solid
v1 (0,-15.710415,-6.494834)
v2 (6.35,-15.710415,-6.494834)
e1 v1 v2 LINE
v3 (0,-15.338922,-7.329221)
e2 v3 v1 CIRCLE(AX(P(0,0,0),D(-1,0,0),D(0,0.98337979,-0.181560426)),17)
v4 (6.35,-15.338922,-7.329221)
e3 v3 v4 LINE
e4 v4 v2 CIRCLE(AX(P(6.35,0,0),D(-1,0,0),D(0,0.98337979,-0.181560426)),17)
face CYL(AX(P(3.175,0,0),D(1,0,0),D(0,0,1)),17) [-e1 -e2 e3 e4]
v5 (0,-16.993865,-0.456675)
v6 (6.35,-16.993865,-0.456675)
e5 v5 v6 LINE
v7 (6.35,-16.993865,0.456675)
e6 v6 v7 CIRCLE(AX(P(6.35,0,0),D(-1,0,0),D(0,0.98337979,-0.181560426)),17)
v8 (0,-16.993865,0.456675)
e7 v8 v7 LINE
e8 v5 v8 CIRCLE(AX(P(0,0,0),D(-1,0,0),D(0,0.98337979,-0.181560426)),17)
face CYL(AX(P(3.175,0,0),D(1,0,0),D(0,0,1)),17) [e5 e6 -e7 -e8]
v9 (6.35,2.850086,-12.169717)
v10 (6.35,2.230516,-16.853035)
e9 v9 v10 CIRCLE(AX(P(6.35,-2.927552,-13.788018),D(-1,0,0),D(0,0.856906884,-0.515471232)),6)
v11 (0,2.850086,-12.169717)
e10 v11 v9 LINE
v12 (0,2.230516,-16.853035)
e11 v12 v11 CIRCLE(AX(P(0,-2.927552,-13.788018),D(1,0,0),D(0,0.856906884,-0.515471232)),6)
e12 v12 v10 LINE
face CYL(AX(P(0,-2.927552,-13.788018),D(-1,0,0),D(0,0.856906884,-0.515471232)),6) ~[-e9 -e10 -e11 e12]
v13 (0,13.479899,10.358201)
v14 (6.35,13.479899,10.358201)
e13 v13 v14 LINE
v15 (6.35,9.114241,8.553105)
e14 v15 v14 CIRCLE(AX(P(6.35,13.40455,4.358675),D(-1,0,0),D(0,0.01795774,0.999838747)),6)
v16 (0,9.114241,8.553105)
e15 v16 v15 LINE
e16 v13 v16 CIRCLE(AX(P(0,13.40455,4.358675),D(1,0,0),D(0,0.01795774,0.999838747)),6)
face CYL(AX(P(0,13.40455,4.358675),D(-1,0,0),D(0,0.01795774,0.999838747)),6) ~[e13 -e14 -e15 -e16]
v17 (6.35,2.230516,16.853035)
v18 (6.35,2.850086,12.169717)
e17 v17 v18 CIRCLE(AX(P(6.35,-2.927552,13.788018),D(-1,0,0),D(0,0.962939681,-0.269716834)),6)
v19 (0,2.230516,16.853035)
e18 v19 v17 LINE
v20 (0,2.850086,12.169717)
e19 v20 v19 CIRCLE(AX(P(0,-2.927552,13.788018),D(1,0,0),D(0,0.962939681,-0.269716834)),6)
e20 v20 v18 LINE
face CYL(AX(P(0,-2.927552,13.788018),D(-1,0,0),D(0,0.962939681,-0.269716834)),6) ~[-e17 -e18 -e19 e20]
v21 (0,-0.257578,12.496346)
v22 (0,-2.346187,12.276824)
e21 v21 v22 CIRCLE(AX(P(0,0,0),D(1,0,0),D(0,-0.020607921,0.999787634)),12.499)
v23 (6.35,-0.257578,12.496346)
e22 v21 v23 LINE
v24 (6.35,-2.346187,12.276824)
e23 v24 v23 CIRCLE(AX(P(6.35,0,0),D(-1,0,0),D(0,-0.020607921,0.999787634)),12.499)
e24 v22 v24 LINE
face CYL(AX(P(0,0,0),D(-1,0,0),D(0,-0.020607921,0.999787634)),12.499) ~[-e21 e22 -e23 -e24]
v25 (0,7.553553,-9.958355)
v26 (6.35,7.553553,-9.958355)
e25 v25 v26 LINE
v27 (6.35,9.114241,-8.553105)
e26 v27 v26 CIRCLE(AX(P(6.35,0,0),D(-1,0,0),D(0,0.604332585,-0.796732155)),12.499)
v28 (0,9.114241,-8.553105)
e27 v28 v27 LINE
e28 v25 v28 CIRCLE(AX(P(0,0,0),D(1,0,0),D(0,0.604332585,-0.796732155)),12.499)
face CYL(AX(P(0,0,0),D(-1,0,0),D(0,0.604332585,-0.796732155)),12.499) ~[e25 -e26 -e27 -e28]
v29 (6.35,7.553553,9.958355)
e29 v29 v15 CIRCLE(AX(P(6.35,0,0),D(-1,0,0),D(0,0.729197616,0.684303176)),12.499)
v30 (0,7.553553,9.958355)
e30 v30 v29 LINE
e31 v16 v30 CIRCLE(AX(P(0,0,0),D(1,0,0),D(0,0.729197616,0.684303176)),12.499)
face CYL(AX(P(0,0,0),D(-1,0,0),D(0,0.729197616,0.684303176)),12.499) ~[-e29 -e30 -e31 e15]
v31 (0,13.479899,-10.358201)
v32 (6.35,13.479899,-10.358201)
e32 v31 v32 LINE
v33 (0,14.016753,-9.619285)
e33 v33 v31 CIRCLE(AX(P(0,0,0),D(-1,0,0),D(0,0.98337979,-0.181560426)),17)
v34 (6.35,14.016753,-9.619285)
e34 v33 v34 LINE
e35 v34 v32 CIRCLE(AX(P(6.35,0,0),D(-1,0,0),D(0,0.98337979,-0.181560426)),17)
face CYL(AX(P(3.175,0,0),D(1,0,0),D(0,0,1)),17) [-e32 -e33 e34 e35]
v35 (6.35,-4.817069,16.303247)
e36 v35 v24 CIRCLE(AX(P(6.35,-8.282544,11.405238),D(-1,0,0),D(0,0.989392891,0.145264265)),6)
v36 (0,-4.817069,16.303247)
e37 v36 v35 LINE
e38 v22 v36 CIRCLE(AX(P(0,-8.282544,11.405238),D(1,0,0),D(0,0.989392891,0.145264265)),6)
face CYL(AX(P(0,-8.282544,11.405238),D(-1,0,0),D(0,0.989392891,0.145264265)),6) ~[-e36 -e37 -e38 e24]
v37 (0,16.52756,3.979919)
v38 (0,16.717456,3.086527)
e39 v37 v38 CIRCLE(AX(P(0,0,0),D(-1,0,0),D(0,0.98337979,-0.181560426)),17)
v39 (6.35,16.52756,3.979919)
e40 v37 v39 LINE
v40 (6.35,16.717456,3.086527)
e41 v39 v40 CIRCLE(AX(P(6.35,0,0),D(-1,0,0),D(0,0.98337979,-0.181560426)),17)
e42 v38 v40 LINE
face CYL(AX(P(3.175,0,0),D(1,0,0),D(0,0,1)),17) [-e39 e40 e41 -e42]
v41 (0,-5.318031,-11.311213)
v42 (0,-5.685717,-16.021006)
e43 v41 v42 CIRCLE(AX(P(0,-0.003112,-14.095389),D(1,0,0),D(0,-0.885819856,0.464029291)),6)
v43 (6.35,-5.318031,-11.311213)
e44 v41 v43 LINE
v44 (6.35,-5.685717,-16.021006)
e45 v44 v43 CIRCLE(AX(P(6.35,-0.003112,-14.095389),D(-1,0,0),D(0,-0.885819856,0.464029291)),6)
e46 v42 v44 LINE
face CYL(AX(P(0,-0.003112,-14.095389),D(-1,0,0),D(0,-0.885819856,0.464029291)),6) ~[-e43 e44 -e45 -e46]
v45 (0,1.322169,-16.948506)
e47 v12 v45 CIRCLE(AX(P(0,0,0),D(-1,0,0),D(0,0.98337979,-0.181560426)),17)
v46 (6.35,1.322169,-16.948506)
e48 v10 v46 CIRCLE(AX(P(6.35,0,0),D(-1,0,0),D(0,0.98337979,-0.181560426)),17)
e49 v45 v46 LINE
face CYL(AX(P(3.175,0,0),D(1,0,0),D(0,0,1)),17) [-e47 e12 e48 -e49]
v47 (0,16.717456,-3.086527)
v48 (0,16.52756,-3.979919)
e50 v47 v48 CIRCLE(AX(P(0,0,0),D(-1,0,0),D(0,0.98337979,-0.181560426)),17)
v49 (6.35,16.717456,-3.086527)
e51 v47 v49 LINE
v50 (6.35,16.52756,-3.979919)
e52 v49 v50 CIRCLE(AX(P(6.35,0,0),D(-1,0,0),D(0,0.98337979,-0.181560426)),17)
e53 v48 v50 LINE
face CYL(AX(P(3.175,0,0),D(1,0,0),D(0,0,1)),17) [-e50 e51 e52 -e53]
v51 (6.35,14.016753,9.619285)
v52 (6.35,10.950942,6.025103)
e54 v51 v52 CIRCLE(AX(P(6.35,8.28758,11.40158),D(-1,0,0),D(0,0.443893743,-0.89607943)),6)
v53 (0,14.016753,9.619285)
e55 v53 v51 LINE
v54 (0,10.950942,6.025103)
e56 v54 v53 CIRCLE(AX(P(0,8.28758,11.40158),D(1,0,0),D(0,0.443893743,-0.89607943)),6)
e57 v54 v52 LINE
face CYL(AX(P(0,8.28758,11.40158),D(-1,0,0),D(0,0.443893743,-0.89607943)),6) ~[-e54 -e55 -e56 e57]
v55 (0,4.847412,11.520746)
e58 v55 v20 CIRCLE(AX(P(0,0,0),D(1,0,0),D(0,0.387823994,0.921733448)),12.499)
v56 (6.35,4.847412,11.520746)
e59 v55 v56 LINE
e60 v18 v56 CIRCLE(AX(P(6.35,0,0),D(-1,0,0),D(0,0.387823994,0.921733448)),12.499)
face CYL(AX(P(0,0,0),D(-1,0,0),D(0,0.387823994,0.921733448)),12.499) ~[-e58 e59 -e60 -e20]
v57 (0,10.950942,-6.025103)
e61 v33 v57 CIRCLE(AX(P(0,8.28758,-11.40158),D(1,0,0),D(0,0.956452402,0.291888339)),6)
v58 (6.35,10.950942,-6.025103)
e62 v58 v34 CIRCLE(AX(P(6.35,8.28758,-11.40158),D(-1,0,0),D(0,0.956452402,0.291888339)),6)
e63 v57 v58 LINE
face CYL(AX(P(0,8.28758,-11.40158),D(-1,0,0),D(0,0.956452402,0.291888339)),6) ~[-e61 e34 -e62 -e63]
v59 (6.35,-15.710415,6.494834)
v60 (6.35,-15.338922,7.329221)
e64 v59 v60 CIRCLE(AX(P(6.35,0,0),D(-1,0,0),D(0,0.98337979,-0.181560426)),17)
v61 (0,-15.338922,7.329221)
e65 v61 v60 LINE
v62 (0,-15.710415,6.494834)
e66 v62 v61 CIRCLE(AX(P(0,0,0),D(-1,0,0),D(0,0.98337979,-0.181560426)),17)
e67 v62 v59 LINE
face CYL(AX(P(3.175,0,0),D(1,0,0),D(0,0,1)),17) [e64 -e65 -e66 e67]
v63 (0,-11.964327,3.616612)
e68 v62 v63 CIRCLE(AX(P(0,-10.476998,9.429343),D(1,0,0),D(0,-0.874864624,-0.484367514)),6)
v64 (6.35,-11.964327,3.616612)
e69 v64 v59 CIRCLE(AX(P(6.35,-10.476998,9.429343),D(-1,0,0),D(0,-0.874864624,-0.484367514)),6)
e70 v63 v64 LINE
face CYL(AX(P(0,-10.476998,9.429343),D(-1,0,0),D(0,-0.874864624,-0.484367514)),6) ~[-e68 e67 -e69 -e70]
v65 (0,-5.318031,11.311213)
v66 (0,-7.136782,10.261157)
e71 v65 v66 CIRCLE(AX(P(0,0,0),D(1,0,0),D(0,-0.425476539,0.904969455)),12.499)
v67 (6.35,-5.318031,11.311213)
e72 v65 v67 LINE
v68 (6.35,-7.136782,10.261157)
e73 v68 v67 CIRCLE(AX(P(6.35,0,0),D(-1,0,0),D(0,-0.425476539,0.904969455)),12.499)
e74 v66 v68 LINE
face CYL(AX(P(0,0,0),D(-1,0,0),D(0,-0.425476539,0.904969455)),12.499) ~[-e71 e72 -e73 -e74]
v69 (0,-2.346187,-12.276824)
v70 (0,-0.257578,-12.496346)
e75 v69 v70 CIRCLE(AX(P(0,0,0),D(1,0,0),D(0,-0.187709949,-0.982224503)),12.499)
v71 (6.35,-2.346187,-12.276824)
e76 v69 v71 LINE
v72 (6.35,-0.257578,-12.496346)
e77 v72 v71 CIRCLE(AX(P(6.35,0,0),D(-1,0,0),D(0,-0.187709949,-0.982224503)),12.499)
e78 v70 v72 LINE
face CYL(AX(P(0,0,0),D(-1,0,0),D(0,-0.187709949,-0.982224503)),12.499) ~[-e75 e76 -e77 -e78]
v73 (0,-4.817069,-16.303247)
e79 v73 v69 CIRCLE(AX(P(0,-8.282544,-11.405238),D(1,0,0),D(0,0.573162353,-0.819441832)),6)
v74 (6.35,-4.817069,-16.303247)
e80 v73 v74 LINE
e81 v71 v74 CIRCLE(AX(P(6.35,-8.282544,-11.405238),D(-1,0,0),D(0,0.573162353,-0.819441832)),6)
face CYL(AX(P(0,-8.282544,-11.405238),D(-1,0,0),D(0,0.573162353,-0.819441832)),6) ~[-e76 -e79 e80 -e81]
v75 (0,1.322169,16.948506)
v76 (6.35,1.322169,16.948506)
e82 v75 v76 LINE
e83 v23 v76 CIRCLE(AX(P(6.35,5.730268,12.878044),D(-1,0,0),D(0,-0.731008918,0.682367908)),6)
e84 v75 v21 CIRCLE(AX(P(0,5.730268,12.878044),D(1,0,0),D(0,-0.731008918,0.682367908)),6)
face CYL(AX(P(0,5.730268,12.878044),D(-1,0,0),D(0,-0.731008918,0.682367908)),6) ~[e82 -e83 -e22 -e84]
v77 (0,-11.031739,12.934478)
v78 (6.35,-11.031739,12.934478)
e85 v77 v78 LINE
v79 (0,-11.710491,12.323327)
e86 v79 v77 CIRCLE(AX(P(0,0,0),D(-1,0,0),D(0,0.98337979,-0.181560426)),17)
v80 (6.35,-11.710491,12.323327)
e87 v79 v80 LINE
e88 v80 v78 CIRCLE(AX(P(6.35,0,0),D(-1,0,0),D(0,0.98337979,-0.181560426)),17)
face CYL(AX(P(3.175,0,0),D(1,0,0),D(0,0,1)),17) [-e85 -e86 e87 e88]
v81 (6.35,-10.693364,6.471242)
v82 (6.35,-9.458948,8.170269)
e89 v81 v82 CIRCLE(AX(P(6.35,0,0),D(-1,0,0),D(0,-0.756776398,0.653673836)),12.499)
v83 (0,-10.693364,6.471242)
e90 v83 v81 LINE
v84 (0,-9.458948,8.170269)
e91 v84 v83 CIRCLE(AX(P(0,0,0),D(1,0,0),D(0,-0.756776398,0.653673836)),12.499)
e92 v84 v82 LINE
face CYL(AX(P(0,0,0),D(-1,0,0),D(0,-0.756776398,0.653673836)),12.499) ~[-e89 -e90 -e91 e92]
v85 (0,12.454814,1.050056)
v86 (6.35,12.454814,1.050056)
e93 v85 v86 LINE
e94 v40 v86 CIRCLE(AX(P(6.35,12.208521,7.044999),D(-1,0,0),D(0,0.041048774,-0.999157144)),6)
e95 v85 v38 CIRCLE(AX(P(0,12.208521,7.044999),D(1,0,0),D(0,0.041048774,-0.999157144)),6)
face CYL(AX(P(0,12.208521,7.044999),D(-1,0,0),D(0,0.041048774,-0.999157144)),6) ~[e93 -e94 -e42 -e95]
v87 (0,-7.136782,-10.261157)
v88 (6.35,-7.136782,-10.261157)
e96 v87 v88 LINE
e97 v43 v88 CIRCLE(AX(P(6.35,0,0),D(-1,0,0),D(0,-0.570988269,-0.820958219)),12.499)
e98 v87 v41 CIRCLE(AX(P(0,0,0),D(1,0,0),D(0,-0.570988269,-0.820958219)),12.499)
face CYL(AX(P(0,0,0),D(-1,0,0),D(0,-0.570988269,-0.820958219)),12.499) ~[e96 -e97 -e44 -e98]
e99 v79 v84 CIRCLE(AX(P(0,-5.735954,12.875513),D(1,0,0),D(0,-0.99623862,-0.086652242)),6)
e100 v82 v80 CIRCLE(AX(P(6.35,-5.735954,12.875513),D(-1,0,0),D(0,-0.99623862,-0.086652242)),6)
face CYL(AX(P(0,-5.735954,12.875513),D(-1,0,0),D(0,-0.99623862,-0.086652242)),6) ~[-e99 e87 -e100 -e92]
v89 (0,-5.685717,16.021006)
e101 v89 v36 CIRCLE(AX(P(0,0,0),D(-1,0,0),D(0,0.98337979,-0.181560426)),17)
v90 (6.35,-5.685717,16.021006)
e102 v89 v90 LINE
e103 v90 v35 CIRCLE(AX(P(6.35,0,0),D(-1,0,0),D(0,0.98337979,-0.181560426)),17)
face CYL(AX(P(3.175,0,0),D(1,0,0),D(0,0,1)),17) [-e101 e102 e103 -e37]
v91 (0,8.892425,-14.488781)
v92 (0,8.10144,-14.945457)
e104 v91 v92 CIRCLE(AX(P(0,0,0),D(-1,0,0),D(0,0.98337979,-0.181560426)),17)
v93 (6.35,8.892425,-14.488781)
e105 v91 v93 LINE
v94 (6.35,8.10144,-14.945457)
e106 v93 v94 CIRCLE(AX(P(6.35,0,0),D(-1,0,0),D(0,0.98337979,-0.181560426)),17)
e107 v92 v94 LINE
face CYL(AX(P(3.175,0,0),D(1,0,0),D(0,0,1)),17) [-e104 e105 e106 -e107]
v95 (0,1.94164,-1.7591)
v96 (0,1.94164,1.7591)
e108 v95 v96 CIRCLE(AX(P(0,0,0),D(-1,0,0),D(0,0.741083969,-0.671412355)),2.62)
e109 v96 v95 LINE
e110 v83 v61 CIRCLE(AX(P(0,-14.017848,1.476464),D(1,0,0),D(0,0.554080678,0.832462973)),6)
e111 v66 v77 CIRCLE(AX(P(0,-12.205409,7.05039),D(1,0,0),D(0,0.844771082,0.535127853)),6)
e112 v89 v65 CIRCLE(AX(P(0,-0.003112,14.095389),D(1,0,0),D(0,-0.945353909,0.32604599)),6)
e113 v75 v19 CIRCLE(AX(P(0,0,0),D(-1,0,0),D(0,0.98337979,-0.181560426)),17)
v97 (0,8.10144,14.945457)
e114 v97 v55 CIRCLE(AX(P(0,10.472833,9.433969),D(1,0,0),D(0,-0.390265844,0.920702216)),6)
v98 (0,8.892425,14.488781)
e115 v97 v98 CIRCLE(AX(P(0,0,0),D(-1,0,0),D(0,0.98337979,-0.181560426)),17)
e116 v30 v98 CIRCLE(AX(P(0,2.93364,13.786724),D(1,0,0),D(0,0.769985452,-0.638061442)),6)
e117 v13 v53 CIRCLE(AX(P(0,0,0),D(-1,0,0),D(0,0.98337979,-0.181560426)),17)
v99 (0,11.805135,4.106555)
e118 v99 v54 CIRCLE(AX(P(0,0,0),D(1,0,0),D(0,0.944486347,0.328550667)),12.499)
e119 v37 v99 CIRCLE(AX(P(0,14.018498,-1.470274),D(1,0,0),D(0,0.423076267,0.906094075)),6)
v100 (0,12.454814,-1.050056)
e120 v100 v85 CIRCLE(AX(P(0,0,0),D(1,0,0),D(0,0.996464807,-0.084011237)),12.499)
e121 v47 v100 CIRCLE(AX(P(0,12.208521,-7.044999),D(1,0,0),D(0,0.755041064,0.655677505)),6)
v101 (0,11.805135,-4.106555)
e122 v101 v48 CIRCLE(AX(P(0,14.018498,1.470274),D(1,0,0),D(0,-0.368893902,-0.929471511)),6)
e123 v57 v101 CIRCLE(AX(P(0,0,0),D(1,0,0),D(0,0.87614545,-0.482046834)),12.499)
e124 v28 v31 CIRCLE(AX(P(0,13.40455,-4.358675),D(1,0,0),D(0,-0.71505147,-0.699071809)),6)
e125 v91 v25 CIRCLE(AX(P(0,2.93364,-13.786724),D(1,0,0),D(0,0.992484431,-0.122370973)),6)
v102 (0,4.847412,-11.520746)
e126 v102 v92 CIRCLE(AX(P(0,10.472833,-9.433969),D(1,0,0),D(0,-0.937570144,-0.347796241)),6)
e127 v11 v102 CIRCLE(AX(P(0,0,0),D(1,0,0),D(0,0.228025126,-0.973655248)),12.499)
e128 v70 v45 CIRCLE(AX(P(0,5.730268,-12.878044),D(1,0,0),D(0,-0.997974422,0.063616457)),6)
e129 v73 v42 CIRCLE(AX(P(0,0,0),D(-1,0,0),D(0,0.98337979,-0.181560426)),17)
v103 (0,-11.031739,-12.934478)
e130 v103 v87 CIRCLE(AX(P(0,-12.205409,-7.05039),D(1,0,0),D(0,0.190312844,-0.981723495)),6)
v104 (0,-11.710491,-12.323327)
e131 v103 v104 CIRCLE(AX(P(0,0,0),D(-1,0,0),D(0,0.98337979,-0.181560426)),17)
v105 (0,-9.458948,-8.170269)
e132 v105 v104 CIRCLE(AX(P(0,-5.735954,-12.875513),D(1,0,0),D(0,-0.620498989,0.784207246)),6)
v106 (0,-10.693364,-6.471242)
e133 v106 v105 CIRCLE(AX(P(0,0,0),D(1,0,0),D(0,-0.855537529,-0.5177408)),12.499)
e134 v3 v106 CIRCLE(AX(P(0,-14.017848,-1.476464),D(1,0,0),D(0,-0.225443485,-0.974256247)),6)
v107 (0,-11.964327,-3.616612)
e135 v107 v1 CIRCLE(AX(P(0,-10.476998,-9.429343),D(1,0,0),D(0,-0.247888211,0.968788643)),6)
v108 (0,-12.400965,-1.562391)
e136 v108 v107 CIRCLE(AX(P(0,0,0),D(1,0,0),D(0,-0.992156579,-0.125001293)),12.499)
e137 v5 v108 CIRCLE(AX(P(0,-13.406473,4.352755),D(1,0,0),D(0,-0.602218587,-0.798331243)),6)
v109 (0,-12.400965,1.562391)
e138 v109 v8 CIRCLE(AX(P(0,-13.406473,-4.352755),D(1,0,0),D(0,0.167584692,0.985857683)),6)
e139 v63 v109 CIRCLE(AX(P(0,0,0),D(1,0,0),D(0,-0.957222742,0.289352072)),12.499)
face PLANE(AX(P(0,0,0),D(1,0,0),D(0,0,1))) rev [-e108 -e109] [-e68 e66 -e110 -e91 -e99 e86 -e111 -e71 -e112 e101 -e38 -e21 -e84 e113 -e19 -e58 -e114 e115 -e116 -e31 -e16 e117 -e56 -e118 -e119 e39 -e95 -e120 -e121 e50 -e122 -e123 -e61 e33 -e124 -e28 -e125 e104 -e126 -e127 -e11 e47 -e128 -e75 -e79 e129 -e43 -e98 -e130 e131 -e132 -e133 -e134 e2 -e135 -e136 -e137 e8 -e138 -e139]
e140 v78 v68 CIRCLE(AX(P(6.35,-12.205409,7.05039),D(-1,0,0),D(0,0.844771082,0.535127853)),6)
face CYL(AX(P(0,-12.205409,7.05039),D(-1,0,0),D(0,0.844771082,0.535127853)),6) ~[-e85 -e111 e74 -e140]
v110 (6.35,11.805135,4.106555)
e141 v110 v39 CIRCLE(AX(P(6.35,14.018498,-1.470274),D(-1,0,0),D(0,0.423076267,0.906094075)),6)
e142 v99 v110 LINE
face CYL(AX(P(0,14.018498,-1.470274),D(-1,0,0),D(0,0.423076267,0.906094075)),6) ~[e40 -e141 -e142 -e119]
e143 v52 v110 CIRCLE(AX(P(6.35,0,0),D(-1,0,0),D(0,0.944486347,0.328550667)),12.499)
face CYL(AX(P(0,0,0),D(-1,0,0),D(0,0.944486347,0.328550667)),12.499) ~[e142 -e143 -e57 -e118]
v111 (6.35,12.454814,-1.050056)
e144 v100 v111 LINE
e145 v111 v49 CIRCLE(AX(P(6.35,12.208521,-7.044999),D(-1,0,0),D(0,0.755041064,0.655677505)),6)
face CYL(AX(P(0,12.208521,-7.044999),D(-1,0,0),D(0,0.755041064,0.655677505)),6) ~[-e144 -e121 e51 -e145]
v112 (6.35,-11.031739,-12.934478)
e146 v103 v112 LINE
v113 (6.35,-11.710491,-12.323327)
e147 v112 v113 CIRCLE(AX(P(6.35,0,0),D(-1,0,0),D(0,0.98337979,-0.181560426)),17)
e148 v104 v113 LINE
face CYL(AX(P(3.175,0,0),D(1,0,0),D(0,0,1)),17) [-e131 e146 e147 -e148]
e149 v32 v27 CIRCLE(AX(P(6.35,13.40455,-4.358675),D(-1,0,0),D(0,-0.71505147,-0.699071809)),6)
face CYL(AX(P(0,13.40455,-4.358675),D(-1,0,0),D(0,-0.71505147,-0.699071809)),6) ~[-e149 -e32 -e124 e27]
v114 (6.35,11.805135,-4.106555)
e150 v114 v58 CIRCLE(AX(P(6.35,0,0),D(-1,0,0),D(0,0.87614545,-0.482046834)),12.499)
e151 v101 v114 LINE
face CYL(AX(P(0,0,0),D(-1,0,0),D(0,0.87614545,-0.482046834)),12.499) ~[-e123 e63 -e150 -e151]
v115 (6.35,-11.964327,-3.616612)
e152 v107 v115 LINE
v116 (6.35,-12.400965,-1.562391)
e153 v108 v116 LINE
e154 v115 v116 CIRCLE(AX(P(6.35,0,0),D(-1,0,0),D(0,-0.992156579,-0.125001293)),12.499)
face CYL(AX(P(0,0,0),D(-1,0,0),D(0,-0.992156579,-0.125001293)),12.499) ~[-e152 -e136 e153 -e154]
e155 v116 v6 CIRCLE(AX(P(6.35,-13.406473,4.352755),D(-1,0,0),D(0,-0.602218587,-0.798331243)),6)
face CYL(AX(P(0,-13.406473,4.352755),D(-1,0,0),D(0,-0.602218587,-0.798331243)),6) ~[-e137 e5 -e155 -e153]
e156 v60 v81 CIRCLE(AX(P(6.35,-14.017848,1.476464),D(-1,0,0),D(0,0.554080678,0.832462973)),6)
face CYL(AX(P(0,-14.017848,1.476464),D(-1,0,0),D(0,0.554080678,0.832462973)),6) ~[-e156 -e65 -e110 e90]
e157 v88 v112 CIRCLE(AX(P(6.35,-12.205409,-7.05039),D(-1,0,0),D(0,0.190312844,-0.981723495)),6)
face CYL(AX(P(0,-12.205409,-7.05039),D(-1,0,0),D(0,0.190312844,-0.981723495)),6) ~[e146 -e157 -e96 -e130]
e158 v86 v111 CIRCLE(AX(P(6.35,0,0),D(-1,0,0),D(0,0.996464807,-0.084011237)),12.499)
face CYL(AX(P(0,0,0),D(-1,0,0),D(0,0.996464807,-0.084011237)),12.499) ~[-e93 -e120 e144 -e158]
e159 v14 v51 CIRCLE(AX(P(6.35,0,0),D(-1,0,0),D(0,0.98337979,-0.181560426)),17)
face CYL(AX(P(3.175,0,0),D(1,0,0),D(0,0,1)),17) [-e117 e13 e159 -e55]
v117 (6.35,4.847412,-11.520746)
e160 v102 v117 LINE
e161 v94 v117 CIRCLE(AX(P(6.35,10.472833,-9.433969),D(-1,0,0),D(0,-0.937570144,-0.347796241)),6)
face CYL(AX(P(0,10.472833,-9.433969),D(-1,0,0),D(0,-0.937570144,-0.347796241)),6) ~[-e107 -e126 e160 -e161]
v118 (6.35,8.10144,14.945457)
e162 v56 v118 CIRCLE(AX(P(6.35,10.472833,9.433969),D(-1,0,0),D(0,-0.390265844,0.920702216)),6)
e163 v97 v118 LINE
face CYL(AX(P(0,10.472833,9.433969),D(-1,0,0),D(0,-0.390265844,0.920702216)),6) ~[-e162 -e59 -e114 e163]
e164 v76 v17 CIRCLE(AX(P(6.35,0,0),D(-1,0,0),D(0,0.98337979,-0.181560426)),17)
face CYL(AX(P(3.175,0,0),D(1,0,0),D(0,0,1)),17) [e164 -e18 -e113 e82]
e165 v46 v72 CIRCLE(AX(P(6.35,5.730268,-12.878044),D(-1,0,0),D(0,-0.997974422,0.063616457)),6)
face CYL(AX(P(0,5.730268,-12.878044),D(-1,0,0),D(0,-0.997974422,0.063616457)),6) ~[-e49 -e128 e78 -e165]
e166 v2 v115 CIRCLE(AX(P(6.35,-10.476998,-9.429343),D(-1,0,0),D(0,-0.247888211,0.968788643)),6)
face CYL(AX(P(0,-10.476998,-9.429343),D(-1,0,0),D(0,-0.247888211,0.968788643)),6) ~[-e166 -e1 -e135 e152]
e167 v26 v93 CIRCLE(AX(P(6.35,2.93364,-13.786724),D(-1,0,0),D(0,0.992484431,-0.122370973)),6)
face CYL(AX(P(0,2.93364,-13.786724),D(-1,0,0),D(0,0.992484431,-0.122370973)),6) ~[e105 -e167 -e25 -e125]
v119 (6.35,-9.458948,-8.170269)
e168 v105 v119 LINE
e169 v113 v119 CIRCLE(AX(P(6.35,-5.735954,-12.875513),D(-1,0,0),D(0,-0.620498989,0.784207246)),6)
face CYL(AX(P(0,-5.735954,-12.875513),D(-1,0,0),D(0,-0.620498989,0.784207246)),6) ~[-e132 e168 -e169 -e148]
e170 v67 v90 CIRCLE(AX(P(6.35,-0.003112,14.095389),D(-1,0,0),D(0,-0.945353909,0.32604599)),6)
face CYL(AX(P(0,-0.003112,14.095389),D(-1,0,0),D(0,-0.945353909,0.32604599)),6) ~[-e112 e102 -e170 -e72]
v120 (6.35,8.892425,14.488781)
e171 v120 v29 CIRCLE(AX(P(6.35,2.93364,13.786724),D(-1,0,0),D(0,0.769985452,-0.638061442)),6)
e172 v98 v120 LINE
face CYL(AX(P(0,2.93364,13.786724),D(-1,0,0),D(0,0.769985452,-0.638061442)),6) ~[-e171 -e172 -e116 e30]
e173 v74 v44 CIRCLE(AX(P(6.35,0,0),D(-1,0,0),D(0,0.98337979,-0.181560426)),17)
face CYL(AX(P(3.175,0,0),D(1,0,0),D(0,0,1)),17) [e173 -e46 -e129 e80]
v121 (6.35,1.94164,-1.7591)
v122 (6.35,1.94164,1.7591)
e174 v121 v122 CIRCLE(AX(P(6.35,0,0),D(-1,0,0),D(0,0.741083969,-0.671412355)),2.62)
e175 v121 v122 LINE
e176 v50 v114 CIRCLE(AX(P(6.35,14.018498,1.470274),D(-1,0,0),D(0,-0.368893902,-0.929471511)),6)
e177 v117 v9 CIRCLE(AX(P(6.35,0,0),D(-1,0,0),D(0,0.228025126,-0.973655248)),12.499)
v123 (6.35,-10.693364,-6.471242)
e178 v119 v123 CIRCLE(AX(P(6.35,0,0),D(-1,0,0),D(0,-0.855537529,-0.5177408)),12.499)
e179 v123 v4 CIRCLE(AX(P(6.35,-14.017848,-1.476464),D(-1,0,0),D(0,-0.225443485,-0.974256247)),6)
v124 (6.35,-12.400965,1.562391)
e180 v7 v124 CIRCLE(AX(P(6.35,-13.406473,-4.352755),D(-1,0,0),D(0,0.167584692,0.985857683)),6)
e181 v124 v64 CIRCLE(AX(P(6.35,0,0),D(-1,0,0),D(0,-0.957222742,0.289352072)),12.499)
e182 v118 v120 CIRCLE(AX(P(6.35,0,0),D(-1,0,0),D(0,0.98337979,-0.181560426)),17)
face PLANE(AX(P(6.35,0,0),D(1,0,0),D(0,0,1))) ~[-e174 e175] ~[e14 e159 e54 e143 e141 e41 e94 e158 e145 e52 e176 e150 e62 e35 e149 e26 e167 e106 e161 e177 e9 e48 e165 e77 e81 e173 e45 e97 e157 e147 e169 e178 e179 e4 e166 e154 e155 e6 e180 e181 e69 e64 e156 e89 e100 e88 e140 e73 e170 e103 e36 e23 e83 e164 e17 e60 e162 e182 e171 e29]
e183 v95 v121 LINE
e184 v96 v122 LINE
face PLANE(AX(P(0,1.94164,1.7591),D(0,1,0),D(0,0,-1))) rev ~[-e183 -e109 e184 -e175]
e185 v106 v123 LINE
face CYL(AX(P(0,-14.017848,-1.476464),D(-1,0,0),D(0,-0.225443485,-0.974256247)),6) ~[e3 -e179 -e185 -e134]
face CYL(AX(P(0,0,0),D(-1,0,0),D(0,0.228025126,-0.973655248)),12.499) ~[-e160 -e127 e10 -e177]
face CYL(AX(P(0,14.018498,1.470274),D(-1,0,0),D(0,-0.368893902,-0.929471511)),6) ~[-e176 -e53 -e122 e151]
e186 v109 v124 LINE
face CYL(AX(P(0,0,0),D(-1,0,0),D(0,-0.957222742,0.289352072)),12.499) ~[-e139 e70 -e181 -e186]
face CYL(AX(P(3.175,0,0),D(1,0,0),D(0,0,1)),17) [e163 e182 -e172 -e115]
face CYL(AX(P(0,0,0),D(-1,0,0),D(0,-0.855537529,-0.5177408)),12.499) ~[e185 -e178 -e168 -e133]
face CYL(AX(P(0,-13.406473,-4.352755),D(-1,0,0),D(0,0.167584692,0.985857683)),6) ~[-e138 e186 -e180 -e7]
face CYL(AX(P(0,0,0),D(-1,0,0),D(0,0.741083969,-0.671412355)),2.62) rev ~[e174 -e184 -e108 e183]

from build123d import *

# Parameters (mm, degrees)
BASPROSKE_W        = 6.35
BASPROSKE_H        = 17
TOOTHCUT_DEPTH     = 25.86609137
TEETHCUTS_COUNT    = 15
BORSKE_R           = 0.4
BORE_DEPTH         = 50.0000508
CUT_EXTRUDE1_REACH = 26.831


with BuildPart() as part:
    # BasProSke → Base-Revolve (revolve)
    with BuildSketch(Plane(origin=(0, 0, 0), x_dir=(1, 0, 0), z_dir=(0, 1, 0)), mode=Mode.PRIVATE) as base_revolve_sk:
        with Locations((3.175, 8.5)):
            Rectangle(BASPROSKE_W, BASPROSKE_H)
    revolve(base_revolve_sk.sketch.rotate(Axis((-10, 0, 0), (1, 0, 0)), 180), axis=Axis((-10, 0, 0), (1, 0, 0)))

    # TooCutSke → ToothCut (cut, through all)
    with BuildSketch(Plane(origin=(0, 0, 0), x_dir=(0, 0, -1), z_dir=(1, 0, 0))):
        with BuildLine():
            ThreePointArc((1.050056448, 12.454813626), (0, 12.499), (-1.050056448, 12.454813626))
            ThreePointArc((-1.050056448, 12.454813626), (-1.638118106, 14.809604533), (-3.110934279, 16.73876737))
            ThreePointArc((-3.110934279, 16.73876737), (0, 17.0254), (3.110934279, 16.73876737))
            ThreePointArc((3.110934279, 16.73876737), (1.638118106, 14.809604533), (1.050056448, 12.454813626))
        make_face()
    toothcut = extrude(amount=TOOTHCUT_DEPTH, mode=Mode.SUBTRACT)

    # TeethCuts: ToothCut ×15 about axis
    teethcuts_axis = Axis((0, 0, 0), (1, 0, 0))
    for i in range(1, TEETHCUTS_COUNT):
        add(toothcut.rotate(teethcuts_axis, i * 360 / TEETHCUTS_COUNT), mode=Mode.SUBTRACT)

    # BorSke → Bore (cut, symmetric)
    with BuildSketch(Plane(origin=(0, 0, 0), x_dir=(0, 0, -1), z_dir=(1, 0, 0))):
        with Locations(Location((0, 0, 0), (0, 0, 180))):
            Circle(BORSKE_R)
    extrude(amount=BORE_DEPTH, both=True, mode=Mode.SUBTRACT)

    # Sketch1 → Cut-Extrude1 (cut, up to next)
    with BuildSketch(Plane.ZY, mode=Mode.PRIVATE) as cut_extrude1_sk1:
        with BuildLine():
            Line((1.659895813, 1.69164), (-1.659895813, 1.69164))
            ThreePointArc((-1.659895813, 1.69164), (-0.917318626, -2.185274934), (2.37, 0))
            ThreePointArc((2.37, 0), (2.185274934, 0.917318626), (1.659895813, 1.69164))
        make_face()
    cut_extrude1_tool1 = extrude(cut_extrude1_sk1.sketch, amount=-CUT_EXTRUDE1_REACH, mode=Mode.PRIVATE) & part.part
    # Sketch1 → Cut-Extrude1 (cut, up to next)
    with BuildSketch(Plane.ZY, mode=Mode.PRIVATE) as cut_extrude1_sk2:
        with BuildLine():
            ThreePointArc((-1.75910037, 1.94164), (0, -2.62), (1.75910037, 1.94164))
            Line((1.75910037, 1.94164), (-1.75910037, 1.94164))
        make_face()
    cut_extrude1_tool2 = extrude(cut_extrude1_sk2.sketch, amount=-CUT_EXTRUDE1_REACH, mode=Mode.PRIVATE) & part.part
    add(cut_extrude1_tool1.solids().sort_by_distance((0, -0.189427, 0))[0], mode=Mode.SUBTRACT)
    add(cut_extrude1_tool2.solids().sort_by_distance((0, -0.182106, 0))[0], mode=Mode.SUBTRACT)


solid = part.part
